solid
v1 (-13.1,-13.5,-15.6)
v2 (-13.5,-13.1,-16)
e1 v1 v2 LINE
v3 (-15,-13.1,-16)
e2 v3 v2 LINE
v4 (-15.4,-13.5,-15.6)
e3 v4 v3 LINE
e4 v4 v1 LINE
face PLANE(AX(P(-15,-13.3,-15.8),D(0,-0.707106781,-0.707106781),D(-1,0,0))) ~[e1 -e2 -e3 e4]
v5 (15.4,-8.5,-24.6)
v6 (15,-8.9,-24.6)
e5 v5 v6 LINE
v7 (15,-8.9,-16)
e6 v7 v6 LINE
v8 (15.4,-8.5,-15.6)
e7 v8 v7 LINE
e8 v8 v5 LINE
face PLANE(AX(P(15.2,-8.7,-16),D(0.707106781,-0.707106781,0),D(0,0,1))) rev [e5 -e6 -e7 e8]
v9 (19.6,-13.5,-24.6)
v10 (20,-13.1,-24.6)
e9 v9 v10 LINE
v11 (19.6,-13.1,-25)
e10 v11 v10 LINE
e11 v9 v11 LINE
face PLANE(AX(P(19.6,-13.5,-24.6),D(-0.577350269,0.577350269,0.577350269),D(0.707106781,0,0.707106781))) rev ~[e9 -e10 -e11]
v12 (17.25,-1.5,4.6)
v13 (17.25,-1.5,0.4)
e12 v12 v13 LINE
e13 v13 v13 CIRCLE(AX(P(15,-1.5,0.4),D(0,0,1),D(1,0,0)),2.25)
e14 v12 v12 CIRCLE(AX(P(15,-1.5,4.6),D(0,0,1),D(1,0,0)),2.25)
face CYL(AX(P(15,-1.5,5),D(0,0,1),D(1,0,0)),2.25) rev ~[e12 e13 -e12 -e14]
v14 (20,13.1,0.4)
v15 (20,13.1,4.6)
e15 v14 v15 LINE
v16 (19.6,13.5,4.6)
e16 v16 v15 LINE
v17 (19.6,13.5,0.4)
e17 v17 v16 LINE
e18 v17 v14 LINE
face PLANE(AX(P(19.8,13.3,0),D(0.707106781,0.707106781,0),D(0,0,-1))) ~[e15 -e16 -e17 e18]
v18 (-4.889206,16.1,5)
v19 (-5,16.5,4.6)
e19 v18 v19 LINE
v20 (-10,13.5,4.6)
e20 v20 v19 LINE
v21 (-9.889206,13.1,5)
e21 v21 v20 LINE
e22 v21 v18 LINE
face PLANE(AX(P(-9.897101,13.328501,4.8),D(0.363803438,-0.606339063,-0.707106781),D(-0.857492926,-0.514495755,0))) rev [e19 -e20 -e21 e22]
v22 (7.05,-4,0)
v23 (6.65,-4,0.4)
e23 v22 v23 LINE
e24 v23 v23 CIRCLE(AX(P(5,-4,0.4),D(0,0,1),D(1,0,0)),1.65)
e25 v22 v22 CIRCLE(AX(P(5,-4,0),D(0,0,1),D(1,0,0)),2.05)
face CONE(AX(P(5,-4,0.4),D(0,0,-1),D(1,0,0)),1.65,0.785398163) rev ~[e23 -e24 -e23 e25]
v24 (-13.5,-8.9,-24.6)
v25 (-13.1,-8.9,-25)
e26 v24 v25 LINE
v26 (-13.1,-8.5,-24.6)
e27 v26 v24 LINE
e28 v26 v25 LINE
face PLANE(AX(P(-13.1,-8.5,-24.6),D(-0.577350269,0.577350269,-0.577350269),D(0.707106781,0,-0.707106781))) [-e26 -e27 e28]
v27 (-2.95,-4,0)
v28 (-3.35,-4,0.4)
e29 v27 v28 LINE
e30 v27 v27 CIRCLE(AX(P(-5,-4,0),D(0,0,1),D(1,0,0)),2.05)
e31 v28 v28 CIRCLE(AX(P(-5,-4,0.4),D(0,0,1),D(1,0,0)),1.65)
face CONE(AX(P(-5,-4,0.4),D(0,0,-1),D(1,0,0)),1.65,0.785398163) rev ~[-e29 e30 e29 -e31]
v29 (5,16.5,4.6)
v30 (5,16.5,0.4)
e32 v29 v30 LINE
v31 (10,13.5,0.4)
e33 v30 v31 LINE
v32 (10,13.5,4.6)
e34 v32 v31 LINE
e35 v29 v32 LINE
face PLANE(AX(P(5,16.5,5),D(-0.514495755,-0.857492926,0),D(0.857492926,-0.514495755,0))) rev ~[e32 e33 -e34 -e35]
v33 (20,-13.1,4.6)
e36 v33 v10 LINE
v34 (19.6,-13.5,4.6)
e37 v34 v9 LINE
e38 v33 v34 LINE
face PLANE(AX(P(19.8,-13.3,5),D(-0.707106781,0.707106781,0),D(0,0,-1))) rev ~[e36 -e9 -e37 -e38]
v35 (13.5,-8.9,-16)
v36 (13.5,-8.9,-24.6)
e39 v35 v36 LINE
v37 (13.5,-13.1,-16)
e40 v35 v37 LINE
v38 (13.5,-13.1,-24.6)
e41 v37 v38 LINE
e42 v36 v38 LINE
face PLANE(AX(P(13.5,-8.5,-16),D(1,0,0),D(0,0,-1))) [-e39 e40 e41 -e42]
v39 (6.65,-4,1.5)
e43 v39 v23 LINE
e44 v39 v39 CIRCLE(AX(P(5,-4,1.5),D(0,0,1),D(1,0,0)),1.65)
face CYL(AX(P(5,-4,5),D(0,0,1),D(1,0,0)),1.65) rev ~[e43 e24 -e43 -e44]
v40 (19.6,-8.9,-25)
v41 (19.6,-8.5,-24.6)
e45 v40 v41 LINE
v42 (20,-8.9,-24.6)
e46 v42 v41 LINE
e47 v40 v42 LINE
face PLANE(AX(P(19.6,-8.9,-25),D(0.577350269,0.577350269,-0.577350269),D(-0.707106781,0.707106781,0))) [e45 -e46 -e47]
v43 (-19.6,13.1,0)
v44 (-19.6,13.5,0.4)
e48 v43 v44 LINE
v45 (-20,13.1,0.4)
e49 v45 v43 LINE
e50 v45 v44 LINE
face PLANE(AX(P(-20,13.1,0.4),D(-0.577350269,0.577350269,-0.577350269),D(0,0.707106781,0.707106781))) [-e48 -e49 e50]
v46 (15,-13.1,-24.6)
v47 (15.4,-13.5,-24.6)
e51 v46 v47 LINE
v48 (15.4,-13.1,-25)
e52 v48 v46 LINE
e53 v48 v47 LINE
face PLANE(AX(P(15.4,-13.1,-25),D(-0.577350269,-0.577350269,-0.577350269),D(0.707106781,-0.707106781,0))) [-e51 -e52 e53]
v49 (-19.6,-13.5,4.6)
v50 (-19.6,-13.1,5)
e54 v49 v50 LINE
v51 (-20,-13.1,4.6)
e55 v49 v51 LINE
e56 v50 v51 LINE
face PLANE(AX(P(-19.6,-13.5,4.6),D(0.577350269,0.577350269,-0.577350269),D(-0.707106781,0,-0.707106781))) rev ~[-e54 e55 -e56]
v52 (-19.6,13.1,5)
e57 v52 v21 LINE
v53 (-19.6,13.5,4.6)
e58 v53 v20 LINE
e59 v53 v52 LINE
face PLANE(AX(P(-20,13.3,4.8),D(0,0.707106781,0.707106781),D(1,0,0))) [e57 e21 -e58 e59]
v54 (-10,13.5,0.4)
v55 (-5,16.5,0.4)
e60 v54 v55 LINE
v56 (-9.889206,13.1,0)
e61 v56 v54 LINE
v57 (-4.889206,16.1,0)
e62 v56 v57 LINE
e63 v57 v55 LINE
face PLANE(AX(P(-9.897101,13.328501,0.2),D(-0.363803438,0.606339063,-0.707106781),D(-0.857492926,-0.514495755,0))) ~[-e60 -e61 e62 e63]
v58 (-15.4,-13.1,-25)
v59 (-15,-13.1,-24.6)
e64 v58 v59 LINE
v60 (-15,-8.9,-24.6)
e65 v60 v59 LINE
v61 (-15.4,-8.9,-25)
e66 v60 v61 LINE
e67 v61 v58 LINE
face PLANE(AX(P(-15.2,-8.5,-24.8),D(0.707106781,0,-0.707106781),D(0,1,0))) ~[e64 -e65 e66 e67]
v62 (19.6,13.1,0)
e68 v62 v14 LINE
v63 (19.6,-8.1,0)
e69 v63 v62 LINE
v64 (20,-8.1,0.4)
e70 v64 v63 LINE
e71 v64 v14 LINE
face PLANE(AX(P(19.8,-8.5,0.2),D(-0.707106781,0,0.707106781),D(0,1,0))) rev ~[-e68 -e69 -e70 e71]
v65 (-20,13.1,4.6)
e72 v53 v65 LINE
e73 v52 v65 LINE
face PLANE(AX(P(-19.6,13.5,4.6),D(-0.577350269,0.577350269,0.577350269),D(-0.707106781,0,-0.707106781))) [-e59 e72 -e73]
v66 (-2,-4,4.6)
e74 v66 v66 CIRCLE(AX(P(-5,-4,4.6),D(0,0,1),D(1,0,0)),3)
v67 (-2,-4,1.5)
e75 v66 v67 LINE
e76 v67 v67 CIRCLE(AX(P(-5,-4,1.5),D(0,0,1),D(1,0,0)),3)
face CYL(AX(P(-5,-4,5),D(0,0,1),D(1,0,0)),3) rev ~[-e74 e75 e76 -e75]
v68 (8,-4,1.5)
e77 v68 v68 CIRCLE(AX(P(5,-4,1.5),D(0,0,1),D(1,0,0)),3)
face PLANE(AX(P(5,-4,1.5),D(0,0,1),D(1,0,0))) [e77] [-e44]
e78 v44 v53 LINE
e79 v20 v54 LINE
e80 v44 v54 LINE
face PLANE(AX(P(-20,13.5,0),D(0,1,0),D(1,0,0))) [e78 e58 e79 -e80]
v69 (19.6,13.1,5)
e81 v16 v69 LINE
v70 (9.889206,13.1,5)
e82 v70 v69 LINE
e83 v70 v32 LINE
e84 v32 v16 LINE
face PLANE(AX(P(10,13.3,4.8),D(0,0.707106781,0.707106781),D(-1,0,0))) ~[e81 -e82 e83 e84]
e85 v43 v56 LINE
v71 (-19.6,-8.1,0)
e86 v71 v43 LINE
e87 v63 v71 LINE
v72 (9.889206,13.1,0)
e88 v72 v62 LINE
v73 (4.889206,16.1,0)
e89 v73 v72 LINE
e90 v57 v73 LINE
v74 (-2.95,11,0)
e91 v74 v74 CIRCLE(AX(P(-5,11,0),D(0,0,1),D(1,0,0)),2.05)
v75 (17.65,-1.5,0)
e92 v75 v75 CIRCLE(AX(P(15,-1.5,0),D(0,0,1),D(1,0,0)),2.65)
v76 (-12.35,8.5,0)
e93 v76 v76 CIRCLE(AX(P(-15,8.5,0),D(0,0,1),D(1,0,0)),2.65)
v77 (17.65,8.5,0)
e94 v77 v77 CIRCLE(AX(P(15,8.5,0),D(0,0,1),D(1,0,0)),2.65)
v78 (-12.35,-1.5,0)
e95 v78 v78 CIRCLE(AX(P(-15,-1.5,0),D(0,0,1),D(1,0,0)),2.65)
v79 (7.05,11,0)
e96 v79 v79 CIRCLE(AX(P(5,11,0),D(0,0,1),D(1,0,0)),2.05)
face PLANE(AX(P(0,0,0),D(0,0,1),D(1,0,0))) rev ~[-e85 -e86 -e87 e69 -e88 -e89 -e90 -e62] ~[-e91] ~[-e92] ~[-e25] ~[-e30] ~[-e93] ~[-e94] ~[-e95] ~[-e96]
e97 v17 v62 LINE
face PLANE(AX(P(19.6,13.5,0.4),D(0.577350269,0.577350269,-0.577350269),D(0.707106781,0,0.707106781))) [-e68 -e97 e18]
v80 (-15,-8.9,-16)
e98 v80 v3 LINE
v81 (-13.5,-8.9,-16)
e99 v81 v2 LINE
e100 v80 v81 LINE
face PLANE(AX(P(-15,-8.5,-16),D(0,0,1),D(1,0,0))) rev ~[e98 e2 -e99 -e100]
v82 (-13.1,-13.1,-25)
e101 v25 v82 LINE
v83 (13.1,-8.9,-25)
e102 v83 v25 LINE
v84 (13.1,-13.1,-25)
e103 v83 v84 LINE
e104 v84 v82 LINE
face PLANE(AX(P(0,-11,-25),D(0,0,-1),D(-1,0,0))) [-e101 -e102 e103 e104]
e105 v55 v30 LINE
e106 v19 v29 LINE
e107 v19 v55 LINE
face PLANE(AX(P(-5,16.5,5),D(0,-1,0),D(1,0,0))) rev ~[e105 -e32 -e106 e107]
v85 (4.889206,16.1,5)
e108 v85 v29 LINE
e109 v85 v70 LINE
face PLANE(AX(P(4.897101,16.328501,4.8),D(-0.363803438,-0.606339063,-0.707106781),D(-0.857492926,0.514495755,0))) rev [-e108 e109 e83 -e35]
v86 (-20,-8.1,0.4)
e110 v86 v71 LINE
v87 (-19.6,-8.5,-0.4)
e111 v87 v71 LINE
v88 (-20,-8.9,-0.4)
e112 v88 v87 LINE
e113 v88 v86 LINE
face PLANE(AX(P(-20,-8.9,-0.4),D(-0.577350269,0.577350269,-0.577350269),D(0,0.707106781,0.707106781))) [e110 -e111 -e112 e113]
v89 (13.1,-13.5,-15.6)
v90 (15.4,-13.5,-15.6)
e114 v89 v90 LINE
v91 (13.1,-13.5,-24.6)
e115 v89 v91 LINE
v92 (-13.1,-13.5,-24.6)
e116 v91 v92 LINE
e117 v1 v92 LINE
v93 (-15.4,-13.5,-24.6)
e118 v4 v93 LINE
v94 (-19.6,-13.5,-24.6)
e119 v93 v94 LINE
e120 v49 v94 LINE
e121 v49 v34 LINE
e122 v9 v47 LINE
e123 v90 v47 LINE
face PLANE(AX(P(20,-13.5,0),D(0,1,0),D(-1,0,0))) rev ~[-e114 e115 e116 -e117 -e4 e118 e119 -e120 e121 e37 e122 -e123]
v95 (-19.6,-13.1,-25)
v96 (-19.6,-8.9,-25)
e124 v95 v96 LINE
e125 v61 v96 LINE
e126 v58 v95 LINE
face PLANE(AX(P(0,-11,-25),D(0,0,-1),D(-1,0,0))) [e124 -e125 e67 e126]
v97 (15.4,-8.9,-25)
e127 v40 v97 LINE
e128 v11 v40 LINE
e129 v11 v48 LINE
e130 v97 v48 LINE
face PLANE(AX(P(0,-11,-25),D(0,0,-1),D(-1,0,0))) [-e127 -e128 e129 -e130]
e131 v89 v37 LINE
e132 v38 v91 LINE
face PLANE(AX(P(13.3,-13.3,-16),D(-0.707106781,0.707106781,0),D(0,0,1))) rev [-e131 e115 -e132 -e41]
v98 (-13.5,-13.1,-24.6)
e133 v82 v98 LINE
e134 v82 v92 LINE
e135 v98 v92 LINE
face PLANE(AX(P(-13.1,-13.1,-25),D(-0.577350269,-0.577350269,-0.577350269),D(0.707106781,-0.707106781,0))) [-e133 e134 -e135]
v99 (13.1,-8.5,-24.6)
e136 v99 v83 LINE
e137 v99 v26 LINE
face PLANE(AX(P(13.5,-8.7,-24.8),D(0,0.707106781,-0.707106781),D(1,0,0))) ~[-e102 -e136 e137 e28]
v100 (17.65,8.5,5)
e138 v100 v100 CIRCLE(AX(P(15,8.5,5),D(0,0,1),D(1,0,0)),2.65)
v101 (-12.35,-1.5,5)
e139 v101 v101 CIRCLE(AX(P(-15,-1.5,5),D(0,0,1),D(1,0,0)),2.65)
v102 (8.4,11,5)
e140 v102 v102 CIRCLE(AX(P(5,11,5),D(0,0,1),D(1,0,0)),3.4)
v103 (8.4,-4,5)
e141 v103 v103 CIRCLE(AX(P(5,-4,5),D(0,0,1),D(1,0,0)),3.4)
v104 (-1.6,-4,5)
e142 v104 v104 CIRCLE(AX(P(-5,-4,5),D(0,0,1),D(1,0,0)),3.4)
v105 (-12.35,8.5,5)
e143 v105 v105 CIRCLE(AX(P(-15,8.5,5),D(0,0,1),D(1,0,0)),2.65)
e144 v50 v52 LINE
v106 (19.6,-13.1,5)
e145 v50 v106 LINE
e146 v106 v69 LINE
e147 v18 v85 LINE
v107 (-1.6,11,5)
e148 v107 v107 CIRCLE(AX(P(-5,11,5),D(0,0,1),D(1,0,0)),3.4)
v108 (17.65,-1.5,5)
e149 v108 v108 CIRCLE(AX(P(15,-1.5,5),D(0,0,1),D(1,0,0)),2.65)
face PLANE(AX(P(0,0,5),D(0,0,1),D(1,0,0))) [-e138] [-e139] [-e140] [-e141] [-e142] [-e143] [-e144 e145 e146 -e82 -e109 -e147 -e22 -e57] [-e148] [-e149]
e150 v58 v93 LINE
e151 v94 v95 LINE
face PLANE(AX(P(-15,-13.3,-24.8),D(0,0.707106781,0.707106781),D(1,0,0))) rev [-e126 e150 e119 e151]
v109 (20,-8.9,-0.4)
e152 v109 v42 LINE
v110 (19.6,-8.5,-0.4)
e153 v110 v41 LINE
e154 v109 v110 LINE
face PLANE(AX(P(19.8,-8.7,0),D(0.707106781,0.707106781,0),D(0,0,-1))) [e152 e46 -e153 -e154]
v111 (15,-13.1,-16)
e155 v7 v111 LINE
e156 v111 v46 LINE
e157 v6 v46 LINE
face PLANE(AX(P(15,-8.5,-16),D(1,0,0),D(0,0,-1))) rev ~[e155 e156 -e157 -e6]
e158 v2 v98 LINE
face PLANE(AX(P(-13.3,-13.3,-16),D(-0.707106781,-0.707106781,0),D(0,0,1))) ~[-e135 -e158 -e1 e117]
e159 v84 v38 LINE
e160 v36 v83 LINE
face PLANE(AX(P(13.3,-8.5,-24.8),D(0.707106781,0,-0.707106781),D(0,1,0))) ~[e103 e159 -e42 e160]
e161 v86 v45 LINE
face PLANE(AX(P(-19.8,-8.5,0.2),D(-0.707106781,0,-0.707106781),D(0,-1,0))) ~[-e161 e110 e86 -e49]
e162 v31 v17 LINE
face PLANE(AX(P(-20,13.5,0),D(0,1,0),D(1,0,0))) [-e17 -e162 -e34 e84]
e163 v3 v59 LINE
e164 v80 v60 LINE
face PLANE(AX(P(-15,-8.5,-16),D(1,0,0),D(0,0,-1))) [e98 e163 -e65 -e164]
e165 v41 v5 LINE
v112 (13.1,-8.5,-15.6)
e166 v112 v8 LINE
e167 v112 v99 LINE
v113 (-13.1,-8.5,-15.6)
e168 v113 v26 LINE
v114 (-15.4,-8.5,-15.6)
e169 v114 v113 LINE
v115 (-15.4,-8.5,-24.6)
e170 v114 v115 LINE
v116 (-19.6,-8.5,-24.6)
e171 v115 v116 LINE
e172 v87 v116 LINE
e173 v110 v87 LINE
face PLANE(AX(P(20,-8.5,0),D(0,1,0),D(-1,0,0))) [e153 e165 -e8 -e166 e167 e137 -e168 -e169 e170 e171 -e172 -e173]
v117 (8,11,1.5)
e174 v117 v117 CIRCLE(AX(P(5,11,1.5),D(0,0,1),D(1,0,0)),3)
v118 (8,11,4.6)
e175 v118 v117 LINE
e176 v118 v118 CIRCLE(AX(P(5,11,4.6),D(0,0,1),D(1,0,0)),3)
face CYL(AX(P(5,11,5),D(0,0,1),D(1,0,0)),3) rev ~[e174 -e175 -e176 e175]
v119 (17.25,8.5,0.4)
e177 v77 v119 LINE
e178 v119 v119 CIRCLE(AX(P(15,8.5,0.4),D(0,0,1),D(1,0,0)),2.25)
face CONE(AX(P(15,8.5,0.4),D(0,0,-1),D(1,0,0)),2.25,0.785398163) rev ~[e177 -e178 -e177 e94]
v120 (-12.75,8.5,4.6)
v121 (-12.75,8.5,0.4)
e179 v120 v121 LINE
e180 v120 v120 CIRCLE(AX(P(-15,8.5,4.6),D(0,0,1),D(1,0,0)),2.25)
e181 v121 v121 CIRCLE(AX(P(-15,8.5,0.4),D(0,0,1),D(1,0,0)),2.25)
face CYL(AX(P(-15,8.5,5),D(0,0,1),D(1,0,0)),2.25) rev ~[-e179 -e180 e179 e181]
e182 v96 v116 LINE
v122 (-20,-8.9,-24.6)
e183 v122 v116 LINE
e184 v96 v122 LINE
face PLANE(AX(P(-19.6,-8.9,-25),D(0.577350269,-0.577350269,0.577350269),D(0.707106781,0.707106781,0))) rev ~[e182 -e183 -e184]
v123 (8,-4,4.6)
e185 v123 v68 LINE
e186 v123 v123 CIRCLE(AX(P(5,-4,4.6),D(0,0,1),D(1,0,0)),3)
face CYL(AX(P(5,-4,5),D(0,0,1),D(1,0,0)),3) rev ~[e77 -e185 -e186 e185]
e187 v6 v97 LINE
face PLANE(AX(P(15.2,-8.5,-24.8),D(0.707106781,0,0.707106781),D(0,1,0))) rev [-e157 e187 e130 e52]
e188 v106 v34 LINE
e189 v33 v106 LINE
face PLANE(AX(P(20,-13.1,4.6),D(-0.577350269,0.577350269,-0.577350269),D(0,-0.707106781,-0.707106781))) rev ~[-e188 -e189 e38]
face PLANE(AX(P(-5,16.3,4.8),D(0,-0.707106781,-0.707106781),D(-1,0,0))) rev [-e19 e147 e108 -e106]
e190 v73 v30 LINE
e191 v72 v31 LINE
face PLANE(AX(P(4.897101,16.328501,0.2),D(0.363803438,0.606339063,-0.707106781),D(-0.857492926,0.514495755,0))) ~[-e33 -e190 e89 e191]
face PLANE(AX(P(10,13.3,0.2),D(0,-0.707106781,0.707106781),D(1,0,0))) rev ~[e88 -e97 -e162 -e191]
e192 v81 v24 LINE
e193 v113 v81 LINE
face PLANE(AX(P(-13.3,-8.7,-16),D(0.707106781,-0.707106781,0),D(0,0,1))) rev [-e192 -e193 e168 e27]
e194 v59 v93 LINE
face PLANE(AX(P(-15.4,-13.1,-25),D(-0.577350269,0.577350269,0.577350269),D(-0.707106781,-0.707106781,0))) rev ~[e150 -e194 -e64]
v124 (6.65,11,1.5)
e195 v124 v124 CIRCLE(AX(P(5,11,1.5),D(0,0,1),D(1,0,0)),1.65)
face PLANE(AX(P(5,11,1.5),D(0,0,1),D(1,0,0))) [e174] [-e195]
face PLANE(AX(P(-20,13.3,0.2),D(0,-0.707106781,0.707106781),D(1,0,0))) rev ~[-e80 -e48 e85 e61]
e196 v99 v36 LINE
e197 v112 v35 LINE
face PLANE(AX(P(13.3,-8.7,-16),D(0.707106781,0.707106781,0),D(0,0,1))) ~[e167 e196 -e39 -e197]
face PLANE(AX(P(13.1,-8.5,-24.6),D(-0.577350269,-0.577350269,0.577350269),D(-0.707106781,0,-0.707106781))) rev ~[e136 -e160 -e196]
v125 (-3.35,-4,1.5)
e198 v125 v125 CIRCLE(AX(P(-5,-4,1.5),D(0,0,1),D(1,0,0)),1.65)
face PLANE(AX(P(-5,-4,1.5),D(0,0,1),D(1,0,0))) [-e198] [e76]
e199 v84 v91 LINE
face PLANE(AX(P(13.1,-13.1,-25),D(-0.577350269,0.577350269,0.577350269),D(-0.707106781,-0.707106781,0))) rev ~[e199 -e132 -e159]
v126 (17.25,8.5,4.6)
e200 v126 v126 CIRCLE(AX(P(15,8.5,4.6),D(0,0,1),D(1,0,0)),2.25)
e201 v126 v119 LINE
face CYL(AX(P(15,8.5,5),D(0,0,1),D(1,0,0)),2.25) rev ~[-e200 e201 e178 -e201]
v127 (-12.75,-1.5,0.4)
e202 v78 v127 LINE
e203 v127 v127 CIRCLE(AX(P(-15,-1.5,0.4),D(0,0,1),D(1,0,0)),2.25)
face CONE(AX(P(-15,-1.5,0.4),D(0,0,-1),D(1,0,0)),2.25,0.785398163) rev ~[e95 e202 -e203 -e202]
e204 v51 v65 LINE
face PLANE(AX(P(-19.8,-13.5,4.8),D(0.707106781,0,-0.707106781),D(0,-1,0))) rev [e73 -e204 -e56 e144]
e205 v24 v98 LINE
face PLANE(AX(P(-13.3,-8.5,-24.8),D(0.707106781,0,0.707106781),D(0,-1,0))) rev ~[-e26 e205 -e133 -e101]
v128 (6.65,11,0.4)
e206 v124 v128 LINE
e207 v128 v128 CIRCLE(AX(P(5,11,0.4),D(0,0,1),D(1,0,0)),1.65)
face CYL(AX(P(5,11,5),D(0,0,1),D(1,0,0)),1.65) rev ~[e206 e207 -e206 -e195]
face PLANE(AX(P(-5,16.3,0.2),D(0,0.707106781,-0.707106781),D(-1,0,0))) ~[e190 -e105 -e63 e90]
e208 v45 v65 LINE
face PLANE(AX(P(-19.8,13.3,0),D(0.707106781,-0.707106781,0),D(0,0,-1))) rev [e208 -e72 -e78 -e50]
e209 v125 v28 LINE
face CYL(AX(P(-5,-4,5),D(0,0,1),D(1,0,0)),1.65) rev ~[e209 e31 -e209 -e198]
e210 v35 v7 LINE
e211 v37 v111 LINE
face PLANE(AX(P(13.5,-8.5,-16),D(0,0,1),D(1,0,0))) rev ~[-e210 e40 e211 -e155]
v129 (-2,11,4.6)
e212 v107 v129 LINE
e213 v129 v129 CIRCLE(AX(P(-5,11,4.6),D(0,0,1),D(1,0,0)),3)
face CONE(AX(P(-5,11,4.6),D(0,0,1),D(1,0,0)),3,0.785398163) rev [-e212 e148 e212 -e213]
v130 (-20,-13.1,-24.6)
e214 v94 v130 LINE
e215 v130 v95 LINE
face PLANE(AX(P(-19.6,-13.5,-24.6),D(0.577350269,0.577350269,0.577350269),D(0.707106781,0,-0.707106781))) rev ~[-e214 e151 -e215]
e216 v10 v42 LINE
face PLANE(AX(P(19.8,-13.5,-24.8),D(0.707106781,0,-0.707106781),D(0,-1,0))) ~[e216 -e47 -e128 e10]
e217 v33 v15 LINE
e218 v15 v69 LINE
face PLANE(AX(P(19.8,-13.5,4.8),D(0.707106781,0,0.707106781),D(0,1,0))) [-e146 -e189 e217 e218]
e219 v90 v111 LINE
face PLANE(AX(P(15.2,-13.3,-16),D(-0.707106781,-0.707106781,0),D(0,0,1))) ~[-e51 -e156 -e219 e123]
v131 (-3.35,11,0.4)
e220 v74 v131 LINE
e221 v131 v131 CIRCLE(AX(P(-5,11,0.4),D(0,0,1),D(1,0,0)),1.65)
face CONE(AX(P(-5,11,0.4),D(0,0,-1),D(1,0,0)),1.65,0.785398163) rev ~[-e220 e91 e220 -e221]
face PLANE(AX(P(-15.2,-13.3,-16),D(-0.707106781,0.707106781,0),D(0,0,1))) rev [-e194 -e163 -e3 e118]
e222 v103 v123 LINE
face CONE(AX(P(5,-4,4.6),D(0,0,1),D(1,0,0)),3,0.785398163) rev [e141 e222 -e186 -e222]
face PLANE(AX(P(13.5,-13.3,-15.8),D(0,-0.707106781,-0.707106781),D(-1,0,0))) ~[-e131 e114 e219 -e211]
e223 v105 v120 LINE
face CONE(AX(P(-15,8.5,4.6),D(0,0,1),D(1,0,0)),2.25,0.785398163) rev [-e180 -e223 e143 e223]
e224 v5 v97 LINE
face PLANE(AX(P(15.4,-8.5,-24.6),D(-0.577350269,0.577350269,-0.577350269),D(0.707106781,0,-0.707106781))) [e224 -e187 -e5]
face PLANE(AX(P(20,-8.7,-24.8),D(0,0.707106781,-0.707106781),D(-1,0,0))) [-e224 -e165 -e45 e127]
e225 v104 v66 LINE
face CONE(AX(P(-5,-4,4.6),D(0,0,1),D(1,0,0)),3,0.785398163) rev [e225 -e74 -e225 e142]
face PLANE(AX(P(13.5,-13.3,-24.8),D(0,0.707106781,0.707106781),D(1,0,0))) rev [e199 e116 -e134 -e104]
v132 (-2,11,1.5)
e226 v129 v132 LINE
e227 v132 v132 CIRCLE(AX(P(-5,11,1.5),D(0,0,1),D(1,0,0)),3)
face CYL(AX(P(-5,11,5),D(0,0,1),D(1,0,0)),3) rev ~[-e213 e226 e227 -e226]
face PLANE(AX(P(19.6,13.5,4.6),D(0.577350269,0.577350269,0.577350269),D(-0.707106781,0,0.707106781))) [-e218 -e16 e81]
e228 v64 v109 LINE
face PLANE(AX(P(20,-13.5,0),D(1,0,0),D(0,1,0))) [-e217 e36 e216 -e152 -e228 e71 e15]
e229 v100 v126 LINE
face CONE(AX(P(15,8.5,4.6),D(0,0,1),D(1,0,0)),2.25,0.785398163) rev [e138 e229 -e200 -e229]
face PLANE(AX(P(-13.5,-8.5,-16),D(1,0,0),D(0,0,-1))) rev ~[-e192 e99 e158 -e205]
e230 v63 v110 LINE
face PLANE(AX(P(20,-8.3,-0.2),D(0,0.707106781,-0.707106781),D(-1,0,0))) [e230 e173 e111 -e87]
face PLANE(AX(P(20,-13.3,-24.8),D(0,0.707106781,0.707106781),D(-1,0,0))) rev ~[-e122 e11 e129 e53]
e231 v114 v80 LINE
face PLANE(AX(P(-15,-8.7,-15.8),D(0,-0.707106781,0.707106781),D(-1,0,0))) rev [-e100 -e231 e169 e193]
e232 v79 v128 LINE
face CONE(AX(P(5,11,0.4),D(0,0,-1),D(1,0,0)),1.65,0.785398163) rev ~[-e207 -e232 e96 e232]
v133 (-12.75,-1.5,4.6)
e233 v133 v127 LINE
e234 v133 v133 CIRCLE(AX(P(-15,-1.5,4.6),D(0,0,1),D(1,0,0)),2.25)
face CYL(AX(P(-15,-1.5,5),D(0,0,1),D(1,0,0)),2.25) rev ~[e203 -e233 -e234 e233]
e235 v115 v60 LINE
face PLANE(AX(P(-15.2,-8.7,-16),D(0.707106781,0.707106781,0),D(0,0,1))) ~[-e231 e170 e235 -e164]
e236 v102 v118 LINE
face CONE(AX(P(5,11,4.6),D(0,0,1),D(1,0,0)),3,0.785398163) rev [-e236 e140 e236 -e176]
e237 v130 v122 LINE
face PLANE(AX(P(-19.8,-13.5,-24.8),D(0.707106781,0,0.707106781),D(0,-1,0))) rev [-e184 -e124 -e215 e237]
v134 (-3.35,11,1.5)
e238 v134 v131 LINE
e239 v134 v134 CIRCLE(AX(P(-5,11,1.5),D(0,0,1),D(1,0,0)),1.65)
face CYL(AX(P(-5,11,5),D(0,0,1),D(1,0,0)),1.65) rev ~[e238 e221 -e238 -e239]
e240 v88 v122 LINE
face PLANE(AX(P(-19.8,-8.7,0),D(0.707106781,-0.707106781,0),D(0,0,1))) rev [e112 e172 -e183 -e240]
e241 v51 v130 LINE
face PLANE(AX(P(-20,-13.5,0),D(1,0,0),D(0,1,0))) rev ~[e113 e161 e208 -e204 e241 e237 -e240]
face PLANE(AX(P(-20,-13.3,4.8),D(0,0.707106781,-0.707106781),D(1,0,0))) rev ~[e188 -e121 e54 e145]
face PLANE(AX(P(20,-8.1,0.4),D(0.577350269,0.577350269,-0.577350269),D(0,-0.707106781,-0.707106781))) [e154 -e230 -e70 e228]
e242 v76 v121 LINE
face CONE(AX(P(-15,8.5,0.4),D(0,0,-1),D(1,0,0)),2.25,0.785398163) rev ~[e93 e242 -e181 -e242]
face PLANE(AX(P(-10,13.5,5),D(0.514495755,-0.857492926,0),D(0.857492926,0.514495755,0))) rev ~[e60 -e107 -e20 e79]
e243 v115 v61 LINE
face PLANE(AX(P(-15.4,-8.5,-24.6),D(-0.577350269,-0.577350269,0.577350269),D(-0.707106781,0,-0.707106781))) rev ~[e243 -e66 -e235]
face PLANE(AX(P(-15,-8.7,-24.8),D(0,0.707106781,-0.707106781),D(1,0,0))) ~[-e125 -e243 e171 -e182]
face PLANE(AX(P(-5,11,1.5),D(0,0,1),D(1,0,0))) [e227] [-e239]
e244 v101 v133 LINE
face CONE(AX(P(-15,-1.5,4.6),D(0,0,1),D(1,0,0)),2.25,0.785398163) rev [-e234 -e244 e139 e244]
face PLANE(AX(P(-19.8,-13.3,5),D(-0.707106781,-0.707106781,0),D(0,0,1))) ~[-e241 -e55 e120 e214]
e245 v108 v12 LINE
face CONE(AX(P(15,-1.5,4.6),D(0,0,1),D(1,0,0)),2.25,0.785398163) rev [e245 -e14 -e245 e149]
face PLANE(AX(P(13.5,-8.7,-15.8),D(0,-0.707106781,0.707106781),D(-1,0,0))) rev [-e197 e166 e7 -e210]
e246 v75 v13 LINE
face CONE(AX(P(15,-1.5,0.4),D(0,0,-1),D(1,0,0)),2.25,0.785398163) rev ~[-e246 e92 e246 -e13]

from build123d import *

# Parameters (mm, degrees)
SKETCH1_W           = 40
SKETCH1_H           = 27
BOSS_EXTRUDE1_DEPTH = 5
SKETCH2_W           = 40
SKETCH2_H           = 5
BOSS_EXTRUDE2_DEPTH = 25
SKETCH3_R           = 1.65
CUT_EXTRUDE1_DEPTH  = 15
BOSS_EXTRUDE3_DEPTH = 5
SKETCH5_R           = 3
CUT_EXTRUDE2_DEPTH  = 3.5
SKETCH6_W           = 1.5
SKETCH6_H           = 9
CUT_EXTRUDE3_DEPTH  = 5
SKETCH7_R           = 2.25
CUT_EXTRUDE4_DEPTH  = 5
CHAMFER1_SIZE       = 0.4


with BuildPart() as part:
    # Sketch1 → Boss-Extrude1 (new body)
    with BuildSketch(Plane.XY):
        Rectangle(SKETCH1_W, SKETCH1_H)
    extrude(amount=BOSS_EXTRUDE1_DEPTH)

    # Sketch2 → Boss-Extrude2 (add)
    with BuildSketch(Plane(origin=(0, 0, 0), x_dir=(-1, 0, 0), z_dir=(0, 0, -1))):
        with Locations((0, -11)):
            Rectangle(SKETCH2_W, SKETCH2_H)
    extrude(amount=BOSS_EXTRUDE2_DEPTH)

    # Sketch3 → Cut-Extrude1 (cut)
    with BuildSketch(Plane.XY.offset(5)):
        with Locations((-5, 11)):
            Circle(SKETCH3_R)
        with Locations((5, 11)):
            Circle(SKETCH3_R)
        with Locations((5, -4)):
            Circle(SKETCH3_R)
        with Locations((-5, -4)):
            Circle(SKETCH3_R)
    extrude(amount=-CUT_EXTRUDE1_DEPTH, mode=Mode.SUBTRACT)

    # Sketch4 → Boss-Extrude3 (add)
    with BuildSketch(Plane.XY.offset(5)):
        Polygon((-10, 13.5), (-5, 16.5), (5, 16.5), (10, 13.5), align=None)
    extrude(amount=-BOSS_EXTRUDE3_DEPTH)

    # Sketch5 → Cut-Extrude2 (cut)
    with BuildSketch(Plane.XY.offset(5)):
        with Locations((-5, 11)):
            Circle(SKETCH5_R)
        with Locations((5, 11)):
            Circle(SKETCH5_R)
        with Locations((5, -4)):
            Circle(SKETCH5_R)
        with Locations((-5, -4)):
            Circle(SKETCH5_R)
    extrude(amount=-CUT_EXTRUDE2_DEPTH, mode=Mode.SUBTRACT)

    # Sketch6 → Cut-Extrude3 (cut)
    with BuildSketch(Plane(origin=(0, -8.5, 0), x_dir=(1, 0, 0), z_dir=(0, 1, 0))):
        with Locations((-14.25, 20.5)):
            Rectangle(SKETCH6_W, SKETCH6_H)
        with Locations((14.25, 20.5)):
            Rectangle(SKETCH6_W, SKETCH6_H)
    extrude(amount=-CUT_EXTRUDE3_DEPTH, mode=Mode.SUBTRACT)

    # Sketch7 → Cut-Extrude4 (cut)
    with BuildSketch(Plane.XY.offset(5)):
        with Locations((-15, 8.5)):
            Circle(SKETCH7_R)
        with Locations((15, 8.5)):
            Circle(SKETCH7_R)
        with Locations((15, -1.5)):
            Circle(SKETCH7_R)
        with Locations((-15, -1.5)):
            Circle(SKETCH7_R)
    extrude(amount=-CUT_EXTRUDE4_DEPTH, mode=Mode.SUBTRACT)

    # Chamfer1
    chamfer1_edges = [part.edges().sort_by_distance(p)[0] for p in [
        (-15, -13.5, -20.5),
        (-15, -11, -25),
        (-13.5, -13.5, -20.5),
        (-13.5, -11, -25),
        (-14.25, -13.5, -16),
        (-15, -8.5, -20.5),
        (-14.25, -8.5, -16),
        (-13.5, -8.5, -20.5),
        (13.5, -13.5, -20.5),
        (13.5, -11, -25),
        (15, -13.5, -20.5),
        (15, -11, -25),
        (14.25, -13.5, -16),
        (13.5, -8.5, -20.5),
        (14.25, -8.5, -16),
        (15, -8.5, -20.5),
        (-17.25, -1.5, 0),
        (-17.25, -1.5, 5),
        (-20, 0, 5),
        (12.75, -1.5, 0),
        (12.75, -1.5, 5),
        (12.75, 8.5, 0),
        (12.75, 8.5, 5),
        (-17.25, 8.5, 0),
        (-17.25, 8.5, 5),
        (20, 2.5, 0),
        (20, -8.5, -12.5),
        (0, -8.5, 0),
        (0, -13.5, 5),
        (-20, -8.5, -12.5),
        (20, -11, -25),
        (17.5, -13.5, -25),
        (-20, -11, -25),
        (-17.5, -8.5, -25),
        (-6.65, -4, 0),
        (3.35, -4, 0),
        (3.35, 11, 0),
        (-6.65, 11, 0),
        (-15, 13.5, 0),
        (-15, 13.5, 5),
        (20, 0, 5),
        (-7.5, 15, 0),
        (0, 16.5, 0),
        (7.5, 15, 0),
        (7.5, 15, 5),
        (0, 16.5, 5),
        (-7.5, 15, 5),
        (-20, 2.5, 0),
        (15, 13.5, 0),
        (-8, -4, 5),
        (2, -4, 5),
        (2, 11, 5),
        (-8, 11, 5),
        (20, -13.5, -10),
        (-20, -13.5, -10),
        (-20, 13.5, 2.5),
        (20, 13.5, 2.5),
        (0, -13.5, -25),
        (15, 13.5, 5),
        (-17.5, -13.5, -25),
        (0, -8.5, -25),
        (17.5, -8.5, -25),
    ]]
    chamfer(chamfer1_edges, length=CHAMFER1_SIZE)


solid = part.part
